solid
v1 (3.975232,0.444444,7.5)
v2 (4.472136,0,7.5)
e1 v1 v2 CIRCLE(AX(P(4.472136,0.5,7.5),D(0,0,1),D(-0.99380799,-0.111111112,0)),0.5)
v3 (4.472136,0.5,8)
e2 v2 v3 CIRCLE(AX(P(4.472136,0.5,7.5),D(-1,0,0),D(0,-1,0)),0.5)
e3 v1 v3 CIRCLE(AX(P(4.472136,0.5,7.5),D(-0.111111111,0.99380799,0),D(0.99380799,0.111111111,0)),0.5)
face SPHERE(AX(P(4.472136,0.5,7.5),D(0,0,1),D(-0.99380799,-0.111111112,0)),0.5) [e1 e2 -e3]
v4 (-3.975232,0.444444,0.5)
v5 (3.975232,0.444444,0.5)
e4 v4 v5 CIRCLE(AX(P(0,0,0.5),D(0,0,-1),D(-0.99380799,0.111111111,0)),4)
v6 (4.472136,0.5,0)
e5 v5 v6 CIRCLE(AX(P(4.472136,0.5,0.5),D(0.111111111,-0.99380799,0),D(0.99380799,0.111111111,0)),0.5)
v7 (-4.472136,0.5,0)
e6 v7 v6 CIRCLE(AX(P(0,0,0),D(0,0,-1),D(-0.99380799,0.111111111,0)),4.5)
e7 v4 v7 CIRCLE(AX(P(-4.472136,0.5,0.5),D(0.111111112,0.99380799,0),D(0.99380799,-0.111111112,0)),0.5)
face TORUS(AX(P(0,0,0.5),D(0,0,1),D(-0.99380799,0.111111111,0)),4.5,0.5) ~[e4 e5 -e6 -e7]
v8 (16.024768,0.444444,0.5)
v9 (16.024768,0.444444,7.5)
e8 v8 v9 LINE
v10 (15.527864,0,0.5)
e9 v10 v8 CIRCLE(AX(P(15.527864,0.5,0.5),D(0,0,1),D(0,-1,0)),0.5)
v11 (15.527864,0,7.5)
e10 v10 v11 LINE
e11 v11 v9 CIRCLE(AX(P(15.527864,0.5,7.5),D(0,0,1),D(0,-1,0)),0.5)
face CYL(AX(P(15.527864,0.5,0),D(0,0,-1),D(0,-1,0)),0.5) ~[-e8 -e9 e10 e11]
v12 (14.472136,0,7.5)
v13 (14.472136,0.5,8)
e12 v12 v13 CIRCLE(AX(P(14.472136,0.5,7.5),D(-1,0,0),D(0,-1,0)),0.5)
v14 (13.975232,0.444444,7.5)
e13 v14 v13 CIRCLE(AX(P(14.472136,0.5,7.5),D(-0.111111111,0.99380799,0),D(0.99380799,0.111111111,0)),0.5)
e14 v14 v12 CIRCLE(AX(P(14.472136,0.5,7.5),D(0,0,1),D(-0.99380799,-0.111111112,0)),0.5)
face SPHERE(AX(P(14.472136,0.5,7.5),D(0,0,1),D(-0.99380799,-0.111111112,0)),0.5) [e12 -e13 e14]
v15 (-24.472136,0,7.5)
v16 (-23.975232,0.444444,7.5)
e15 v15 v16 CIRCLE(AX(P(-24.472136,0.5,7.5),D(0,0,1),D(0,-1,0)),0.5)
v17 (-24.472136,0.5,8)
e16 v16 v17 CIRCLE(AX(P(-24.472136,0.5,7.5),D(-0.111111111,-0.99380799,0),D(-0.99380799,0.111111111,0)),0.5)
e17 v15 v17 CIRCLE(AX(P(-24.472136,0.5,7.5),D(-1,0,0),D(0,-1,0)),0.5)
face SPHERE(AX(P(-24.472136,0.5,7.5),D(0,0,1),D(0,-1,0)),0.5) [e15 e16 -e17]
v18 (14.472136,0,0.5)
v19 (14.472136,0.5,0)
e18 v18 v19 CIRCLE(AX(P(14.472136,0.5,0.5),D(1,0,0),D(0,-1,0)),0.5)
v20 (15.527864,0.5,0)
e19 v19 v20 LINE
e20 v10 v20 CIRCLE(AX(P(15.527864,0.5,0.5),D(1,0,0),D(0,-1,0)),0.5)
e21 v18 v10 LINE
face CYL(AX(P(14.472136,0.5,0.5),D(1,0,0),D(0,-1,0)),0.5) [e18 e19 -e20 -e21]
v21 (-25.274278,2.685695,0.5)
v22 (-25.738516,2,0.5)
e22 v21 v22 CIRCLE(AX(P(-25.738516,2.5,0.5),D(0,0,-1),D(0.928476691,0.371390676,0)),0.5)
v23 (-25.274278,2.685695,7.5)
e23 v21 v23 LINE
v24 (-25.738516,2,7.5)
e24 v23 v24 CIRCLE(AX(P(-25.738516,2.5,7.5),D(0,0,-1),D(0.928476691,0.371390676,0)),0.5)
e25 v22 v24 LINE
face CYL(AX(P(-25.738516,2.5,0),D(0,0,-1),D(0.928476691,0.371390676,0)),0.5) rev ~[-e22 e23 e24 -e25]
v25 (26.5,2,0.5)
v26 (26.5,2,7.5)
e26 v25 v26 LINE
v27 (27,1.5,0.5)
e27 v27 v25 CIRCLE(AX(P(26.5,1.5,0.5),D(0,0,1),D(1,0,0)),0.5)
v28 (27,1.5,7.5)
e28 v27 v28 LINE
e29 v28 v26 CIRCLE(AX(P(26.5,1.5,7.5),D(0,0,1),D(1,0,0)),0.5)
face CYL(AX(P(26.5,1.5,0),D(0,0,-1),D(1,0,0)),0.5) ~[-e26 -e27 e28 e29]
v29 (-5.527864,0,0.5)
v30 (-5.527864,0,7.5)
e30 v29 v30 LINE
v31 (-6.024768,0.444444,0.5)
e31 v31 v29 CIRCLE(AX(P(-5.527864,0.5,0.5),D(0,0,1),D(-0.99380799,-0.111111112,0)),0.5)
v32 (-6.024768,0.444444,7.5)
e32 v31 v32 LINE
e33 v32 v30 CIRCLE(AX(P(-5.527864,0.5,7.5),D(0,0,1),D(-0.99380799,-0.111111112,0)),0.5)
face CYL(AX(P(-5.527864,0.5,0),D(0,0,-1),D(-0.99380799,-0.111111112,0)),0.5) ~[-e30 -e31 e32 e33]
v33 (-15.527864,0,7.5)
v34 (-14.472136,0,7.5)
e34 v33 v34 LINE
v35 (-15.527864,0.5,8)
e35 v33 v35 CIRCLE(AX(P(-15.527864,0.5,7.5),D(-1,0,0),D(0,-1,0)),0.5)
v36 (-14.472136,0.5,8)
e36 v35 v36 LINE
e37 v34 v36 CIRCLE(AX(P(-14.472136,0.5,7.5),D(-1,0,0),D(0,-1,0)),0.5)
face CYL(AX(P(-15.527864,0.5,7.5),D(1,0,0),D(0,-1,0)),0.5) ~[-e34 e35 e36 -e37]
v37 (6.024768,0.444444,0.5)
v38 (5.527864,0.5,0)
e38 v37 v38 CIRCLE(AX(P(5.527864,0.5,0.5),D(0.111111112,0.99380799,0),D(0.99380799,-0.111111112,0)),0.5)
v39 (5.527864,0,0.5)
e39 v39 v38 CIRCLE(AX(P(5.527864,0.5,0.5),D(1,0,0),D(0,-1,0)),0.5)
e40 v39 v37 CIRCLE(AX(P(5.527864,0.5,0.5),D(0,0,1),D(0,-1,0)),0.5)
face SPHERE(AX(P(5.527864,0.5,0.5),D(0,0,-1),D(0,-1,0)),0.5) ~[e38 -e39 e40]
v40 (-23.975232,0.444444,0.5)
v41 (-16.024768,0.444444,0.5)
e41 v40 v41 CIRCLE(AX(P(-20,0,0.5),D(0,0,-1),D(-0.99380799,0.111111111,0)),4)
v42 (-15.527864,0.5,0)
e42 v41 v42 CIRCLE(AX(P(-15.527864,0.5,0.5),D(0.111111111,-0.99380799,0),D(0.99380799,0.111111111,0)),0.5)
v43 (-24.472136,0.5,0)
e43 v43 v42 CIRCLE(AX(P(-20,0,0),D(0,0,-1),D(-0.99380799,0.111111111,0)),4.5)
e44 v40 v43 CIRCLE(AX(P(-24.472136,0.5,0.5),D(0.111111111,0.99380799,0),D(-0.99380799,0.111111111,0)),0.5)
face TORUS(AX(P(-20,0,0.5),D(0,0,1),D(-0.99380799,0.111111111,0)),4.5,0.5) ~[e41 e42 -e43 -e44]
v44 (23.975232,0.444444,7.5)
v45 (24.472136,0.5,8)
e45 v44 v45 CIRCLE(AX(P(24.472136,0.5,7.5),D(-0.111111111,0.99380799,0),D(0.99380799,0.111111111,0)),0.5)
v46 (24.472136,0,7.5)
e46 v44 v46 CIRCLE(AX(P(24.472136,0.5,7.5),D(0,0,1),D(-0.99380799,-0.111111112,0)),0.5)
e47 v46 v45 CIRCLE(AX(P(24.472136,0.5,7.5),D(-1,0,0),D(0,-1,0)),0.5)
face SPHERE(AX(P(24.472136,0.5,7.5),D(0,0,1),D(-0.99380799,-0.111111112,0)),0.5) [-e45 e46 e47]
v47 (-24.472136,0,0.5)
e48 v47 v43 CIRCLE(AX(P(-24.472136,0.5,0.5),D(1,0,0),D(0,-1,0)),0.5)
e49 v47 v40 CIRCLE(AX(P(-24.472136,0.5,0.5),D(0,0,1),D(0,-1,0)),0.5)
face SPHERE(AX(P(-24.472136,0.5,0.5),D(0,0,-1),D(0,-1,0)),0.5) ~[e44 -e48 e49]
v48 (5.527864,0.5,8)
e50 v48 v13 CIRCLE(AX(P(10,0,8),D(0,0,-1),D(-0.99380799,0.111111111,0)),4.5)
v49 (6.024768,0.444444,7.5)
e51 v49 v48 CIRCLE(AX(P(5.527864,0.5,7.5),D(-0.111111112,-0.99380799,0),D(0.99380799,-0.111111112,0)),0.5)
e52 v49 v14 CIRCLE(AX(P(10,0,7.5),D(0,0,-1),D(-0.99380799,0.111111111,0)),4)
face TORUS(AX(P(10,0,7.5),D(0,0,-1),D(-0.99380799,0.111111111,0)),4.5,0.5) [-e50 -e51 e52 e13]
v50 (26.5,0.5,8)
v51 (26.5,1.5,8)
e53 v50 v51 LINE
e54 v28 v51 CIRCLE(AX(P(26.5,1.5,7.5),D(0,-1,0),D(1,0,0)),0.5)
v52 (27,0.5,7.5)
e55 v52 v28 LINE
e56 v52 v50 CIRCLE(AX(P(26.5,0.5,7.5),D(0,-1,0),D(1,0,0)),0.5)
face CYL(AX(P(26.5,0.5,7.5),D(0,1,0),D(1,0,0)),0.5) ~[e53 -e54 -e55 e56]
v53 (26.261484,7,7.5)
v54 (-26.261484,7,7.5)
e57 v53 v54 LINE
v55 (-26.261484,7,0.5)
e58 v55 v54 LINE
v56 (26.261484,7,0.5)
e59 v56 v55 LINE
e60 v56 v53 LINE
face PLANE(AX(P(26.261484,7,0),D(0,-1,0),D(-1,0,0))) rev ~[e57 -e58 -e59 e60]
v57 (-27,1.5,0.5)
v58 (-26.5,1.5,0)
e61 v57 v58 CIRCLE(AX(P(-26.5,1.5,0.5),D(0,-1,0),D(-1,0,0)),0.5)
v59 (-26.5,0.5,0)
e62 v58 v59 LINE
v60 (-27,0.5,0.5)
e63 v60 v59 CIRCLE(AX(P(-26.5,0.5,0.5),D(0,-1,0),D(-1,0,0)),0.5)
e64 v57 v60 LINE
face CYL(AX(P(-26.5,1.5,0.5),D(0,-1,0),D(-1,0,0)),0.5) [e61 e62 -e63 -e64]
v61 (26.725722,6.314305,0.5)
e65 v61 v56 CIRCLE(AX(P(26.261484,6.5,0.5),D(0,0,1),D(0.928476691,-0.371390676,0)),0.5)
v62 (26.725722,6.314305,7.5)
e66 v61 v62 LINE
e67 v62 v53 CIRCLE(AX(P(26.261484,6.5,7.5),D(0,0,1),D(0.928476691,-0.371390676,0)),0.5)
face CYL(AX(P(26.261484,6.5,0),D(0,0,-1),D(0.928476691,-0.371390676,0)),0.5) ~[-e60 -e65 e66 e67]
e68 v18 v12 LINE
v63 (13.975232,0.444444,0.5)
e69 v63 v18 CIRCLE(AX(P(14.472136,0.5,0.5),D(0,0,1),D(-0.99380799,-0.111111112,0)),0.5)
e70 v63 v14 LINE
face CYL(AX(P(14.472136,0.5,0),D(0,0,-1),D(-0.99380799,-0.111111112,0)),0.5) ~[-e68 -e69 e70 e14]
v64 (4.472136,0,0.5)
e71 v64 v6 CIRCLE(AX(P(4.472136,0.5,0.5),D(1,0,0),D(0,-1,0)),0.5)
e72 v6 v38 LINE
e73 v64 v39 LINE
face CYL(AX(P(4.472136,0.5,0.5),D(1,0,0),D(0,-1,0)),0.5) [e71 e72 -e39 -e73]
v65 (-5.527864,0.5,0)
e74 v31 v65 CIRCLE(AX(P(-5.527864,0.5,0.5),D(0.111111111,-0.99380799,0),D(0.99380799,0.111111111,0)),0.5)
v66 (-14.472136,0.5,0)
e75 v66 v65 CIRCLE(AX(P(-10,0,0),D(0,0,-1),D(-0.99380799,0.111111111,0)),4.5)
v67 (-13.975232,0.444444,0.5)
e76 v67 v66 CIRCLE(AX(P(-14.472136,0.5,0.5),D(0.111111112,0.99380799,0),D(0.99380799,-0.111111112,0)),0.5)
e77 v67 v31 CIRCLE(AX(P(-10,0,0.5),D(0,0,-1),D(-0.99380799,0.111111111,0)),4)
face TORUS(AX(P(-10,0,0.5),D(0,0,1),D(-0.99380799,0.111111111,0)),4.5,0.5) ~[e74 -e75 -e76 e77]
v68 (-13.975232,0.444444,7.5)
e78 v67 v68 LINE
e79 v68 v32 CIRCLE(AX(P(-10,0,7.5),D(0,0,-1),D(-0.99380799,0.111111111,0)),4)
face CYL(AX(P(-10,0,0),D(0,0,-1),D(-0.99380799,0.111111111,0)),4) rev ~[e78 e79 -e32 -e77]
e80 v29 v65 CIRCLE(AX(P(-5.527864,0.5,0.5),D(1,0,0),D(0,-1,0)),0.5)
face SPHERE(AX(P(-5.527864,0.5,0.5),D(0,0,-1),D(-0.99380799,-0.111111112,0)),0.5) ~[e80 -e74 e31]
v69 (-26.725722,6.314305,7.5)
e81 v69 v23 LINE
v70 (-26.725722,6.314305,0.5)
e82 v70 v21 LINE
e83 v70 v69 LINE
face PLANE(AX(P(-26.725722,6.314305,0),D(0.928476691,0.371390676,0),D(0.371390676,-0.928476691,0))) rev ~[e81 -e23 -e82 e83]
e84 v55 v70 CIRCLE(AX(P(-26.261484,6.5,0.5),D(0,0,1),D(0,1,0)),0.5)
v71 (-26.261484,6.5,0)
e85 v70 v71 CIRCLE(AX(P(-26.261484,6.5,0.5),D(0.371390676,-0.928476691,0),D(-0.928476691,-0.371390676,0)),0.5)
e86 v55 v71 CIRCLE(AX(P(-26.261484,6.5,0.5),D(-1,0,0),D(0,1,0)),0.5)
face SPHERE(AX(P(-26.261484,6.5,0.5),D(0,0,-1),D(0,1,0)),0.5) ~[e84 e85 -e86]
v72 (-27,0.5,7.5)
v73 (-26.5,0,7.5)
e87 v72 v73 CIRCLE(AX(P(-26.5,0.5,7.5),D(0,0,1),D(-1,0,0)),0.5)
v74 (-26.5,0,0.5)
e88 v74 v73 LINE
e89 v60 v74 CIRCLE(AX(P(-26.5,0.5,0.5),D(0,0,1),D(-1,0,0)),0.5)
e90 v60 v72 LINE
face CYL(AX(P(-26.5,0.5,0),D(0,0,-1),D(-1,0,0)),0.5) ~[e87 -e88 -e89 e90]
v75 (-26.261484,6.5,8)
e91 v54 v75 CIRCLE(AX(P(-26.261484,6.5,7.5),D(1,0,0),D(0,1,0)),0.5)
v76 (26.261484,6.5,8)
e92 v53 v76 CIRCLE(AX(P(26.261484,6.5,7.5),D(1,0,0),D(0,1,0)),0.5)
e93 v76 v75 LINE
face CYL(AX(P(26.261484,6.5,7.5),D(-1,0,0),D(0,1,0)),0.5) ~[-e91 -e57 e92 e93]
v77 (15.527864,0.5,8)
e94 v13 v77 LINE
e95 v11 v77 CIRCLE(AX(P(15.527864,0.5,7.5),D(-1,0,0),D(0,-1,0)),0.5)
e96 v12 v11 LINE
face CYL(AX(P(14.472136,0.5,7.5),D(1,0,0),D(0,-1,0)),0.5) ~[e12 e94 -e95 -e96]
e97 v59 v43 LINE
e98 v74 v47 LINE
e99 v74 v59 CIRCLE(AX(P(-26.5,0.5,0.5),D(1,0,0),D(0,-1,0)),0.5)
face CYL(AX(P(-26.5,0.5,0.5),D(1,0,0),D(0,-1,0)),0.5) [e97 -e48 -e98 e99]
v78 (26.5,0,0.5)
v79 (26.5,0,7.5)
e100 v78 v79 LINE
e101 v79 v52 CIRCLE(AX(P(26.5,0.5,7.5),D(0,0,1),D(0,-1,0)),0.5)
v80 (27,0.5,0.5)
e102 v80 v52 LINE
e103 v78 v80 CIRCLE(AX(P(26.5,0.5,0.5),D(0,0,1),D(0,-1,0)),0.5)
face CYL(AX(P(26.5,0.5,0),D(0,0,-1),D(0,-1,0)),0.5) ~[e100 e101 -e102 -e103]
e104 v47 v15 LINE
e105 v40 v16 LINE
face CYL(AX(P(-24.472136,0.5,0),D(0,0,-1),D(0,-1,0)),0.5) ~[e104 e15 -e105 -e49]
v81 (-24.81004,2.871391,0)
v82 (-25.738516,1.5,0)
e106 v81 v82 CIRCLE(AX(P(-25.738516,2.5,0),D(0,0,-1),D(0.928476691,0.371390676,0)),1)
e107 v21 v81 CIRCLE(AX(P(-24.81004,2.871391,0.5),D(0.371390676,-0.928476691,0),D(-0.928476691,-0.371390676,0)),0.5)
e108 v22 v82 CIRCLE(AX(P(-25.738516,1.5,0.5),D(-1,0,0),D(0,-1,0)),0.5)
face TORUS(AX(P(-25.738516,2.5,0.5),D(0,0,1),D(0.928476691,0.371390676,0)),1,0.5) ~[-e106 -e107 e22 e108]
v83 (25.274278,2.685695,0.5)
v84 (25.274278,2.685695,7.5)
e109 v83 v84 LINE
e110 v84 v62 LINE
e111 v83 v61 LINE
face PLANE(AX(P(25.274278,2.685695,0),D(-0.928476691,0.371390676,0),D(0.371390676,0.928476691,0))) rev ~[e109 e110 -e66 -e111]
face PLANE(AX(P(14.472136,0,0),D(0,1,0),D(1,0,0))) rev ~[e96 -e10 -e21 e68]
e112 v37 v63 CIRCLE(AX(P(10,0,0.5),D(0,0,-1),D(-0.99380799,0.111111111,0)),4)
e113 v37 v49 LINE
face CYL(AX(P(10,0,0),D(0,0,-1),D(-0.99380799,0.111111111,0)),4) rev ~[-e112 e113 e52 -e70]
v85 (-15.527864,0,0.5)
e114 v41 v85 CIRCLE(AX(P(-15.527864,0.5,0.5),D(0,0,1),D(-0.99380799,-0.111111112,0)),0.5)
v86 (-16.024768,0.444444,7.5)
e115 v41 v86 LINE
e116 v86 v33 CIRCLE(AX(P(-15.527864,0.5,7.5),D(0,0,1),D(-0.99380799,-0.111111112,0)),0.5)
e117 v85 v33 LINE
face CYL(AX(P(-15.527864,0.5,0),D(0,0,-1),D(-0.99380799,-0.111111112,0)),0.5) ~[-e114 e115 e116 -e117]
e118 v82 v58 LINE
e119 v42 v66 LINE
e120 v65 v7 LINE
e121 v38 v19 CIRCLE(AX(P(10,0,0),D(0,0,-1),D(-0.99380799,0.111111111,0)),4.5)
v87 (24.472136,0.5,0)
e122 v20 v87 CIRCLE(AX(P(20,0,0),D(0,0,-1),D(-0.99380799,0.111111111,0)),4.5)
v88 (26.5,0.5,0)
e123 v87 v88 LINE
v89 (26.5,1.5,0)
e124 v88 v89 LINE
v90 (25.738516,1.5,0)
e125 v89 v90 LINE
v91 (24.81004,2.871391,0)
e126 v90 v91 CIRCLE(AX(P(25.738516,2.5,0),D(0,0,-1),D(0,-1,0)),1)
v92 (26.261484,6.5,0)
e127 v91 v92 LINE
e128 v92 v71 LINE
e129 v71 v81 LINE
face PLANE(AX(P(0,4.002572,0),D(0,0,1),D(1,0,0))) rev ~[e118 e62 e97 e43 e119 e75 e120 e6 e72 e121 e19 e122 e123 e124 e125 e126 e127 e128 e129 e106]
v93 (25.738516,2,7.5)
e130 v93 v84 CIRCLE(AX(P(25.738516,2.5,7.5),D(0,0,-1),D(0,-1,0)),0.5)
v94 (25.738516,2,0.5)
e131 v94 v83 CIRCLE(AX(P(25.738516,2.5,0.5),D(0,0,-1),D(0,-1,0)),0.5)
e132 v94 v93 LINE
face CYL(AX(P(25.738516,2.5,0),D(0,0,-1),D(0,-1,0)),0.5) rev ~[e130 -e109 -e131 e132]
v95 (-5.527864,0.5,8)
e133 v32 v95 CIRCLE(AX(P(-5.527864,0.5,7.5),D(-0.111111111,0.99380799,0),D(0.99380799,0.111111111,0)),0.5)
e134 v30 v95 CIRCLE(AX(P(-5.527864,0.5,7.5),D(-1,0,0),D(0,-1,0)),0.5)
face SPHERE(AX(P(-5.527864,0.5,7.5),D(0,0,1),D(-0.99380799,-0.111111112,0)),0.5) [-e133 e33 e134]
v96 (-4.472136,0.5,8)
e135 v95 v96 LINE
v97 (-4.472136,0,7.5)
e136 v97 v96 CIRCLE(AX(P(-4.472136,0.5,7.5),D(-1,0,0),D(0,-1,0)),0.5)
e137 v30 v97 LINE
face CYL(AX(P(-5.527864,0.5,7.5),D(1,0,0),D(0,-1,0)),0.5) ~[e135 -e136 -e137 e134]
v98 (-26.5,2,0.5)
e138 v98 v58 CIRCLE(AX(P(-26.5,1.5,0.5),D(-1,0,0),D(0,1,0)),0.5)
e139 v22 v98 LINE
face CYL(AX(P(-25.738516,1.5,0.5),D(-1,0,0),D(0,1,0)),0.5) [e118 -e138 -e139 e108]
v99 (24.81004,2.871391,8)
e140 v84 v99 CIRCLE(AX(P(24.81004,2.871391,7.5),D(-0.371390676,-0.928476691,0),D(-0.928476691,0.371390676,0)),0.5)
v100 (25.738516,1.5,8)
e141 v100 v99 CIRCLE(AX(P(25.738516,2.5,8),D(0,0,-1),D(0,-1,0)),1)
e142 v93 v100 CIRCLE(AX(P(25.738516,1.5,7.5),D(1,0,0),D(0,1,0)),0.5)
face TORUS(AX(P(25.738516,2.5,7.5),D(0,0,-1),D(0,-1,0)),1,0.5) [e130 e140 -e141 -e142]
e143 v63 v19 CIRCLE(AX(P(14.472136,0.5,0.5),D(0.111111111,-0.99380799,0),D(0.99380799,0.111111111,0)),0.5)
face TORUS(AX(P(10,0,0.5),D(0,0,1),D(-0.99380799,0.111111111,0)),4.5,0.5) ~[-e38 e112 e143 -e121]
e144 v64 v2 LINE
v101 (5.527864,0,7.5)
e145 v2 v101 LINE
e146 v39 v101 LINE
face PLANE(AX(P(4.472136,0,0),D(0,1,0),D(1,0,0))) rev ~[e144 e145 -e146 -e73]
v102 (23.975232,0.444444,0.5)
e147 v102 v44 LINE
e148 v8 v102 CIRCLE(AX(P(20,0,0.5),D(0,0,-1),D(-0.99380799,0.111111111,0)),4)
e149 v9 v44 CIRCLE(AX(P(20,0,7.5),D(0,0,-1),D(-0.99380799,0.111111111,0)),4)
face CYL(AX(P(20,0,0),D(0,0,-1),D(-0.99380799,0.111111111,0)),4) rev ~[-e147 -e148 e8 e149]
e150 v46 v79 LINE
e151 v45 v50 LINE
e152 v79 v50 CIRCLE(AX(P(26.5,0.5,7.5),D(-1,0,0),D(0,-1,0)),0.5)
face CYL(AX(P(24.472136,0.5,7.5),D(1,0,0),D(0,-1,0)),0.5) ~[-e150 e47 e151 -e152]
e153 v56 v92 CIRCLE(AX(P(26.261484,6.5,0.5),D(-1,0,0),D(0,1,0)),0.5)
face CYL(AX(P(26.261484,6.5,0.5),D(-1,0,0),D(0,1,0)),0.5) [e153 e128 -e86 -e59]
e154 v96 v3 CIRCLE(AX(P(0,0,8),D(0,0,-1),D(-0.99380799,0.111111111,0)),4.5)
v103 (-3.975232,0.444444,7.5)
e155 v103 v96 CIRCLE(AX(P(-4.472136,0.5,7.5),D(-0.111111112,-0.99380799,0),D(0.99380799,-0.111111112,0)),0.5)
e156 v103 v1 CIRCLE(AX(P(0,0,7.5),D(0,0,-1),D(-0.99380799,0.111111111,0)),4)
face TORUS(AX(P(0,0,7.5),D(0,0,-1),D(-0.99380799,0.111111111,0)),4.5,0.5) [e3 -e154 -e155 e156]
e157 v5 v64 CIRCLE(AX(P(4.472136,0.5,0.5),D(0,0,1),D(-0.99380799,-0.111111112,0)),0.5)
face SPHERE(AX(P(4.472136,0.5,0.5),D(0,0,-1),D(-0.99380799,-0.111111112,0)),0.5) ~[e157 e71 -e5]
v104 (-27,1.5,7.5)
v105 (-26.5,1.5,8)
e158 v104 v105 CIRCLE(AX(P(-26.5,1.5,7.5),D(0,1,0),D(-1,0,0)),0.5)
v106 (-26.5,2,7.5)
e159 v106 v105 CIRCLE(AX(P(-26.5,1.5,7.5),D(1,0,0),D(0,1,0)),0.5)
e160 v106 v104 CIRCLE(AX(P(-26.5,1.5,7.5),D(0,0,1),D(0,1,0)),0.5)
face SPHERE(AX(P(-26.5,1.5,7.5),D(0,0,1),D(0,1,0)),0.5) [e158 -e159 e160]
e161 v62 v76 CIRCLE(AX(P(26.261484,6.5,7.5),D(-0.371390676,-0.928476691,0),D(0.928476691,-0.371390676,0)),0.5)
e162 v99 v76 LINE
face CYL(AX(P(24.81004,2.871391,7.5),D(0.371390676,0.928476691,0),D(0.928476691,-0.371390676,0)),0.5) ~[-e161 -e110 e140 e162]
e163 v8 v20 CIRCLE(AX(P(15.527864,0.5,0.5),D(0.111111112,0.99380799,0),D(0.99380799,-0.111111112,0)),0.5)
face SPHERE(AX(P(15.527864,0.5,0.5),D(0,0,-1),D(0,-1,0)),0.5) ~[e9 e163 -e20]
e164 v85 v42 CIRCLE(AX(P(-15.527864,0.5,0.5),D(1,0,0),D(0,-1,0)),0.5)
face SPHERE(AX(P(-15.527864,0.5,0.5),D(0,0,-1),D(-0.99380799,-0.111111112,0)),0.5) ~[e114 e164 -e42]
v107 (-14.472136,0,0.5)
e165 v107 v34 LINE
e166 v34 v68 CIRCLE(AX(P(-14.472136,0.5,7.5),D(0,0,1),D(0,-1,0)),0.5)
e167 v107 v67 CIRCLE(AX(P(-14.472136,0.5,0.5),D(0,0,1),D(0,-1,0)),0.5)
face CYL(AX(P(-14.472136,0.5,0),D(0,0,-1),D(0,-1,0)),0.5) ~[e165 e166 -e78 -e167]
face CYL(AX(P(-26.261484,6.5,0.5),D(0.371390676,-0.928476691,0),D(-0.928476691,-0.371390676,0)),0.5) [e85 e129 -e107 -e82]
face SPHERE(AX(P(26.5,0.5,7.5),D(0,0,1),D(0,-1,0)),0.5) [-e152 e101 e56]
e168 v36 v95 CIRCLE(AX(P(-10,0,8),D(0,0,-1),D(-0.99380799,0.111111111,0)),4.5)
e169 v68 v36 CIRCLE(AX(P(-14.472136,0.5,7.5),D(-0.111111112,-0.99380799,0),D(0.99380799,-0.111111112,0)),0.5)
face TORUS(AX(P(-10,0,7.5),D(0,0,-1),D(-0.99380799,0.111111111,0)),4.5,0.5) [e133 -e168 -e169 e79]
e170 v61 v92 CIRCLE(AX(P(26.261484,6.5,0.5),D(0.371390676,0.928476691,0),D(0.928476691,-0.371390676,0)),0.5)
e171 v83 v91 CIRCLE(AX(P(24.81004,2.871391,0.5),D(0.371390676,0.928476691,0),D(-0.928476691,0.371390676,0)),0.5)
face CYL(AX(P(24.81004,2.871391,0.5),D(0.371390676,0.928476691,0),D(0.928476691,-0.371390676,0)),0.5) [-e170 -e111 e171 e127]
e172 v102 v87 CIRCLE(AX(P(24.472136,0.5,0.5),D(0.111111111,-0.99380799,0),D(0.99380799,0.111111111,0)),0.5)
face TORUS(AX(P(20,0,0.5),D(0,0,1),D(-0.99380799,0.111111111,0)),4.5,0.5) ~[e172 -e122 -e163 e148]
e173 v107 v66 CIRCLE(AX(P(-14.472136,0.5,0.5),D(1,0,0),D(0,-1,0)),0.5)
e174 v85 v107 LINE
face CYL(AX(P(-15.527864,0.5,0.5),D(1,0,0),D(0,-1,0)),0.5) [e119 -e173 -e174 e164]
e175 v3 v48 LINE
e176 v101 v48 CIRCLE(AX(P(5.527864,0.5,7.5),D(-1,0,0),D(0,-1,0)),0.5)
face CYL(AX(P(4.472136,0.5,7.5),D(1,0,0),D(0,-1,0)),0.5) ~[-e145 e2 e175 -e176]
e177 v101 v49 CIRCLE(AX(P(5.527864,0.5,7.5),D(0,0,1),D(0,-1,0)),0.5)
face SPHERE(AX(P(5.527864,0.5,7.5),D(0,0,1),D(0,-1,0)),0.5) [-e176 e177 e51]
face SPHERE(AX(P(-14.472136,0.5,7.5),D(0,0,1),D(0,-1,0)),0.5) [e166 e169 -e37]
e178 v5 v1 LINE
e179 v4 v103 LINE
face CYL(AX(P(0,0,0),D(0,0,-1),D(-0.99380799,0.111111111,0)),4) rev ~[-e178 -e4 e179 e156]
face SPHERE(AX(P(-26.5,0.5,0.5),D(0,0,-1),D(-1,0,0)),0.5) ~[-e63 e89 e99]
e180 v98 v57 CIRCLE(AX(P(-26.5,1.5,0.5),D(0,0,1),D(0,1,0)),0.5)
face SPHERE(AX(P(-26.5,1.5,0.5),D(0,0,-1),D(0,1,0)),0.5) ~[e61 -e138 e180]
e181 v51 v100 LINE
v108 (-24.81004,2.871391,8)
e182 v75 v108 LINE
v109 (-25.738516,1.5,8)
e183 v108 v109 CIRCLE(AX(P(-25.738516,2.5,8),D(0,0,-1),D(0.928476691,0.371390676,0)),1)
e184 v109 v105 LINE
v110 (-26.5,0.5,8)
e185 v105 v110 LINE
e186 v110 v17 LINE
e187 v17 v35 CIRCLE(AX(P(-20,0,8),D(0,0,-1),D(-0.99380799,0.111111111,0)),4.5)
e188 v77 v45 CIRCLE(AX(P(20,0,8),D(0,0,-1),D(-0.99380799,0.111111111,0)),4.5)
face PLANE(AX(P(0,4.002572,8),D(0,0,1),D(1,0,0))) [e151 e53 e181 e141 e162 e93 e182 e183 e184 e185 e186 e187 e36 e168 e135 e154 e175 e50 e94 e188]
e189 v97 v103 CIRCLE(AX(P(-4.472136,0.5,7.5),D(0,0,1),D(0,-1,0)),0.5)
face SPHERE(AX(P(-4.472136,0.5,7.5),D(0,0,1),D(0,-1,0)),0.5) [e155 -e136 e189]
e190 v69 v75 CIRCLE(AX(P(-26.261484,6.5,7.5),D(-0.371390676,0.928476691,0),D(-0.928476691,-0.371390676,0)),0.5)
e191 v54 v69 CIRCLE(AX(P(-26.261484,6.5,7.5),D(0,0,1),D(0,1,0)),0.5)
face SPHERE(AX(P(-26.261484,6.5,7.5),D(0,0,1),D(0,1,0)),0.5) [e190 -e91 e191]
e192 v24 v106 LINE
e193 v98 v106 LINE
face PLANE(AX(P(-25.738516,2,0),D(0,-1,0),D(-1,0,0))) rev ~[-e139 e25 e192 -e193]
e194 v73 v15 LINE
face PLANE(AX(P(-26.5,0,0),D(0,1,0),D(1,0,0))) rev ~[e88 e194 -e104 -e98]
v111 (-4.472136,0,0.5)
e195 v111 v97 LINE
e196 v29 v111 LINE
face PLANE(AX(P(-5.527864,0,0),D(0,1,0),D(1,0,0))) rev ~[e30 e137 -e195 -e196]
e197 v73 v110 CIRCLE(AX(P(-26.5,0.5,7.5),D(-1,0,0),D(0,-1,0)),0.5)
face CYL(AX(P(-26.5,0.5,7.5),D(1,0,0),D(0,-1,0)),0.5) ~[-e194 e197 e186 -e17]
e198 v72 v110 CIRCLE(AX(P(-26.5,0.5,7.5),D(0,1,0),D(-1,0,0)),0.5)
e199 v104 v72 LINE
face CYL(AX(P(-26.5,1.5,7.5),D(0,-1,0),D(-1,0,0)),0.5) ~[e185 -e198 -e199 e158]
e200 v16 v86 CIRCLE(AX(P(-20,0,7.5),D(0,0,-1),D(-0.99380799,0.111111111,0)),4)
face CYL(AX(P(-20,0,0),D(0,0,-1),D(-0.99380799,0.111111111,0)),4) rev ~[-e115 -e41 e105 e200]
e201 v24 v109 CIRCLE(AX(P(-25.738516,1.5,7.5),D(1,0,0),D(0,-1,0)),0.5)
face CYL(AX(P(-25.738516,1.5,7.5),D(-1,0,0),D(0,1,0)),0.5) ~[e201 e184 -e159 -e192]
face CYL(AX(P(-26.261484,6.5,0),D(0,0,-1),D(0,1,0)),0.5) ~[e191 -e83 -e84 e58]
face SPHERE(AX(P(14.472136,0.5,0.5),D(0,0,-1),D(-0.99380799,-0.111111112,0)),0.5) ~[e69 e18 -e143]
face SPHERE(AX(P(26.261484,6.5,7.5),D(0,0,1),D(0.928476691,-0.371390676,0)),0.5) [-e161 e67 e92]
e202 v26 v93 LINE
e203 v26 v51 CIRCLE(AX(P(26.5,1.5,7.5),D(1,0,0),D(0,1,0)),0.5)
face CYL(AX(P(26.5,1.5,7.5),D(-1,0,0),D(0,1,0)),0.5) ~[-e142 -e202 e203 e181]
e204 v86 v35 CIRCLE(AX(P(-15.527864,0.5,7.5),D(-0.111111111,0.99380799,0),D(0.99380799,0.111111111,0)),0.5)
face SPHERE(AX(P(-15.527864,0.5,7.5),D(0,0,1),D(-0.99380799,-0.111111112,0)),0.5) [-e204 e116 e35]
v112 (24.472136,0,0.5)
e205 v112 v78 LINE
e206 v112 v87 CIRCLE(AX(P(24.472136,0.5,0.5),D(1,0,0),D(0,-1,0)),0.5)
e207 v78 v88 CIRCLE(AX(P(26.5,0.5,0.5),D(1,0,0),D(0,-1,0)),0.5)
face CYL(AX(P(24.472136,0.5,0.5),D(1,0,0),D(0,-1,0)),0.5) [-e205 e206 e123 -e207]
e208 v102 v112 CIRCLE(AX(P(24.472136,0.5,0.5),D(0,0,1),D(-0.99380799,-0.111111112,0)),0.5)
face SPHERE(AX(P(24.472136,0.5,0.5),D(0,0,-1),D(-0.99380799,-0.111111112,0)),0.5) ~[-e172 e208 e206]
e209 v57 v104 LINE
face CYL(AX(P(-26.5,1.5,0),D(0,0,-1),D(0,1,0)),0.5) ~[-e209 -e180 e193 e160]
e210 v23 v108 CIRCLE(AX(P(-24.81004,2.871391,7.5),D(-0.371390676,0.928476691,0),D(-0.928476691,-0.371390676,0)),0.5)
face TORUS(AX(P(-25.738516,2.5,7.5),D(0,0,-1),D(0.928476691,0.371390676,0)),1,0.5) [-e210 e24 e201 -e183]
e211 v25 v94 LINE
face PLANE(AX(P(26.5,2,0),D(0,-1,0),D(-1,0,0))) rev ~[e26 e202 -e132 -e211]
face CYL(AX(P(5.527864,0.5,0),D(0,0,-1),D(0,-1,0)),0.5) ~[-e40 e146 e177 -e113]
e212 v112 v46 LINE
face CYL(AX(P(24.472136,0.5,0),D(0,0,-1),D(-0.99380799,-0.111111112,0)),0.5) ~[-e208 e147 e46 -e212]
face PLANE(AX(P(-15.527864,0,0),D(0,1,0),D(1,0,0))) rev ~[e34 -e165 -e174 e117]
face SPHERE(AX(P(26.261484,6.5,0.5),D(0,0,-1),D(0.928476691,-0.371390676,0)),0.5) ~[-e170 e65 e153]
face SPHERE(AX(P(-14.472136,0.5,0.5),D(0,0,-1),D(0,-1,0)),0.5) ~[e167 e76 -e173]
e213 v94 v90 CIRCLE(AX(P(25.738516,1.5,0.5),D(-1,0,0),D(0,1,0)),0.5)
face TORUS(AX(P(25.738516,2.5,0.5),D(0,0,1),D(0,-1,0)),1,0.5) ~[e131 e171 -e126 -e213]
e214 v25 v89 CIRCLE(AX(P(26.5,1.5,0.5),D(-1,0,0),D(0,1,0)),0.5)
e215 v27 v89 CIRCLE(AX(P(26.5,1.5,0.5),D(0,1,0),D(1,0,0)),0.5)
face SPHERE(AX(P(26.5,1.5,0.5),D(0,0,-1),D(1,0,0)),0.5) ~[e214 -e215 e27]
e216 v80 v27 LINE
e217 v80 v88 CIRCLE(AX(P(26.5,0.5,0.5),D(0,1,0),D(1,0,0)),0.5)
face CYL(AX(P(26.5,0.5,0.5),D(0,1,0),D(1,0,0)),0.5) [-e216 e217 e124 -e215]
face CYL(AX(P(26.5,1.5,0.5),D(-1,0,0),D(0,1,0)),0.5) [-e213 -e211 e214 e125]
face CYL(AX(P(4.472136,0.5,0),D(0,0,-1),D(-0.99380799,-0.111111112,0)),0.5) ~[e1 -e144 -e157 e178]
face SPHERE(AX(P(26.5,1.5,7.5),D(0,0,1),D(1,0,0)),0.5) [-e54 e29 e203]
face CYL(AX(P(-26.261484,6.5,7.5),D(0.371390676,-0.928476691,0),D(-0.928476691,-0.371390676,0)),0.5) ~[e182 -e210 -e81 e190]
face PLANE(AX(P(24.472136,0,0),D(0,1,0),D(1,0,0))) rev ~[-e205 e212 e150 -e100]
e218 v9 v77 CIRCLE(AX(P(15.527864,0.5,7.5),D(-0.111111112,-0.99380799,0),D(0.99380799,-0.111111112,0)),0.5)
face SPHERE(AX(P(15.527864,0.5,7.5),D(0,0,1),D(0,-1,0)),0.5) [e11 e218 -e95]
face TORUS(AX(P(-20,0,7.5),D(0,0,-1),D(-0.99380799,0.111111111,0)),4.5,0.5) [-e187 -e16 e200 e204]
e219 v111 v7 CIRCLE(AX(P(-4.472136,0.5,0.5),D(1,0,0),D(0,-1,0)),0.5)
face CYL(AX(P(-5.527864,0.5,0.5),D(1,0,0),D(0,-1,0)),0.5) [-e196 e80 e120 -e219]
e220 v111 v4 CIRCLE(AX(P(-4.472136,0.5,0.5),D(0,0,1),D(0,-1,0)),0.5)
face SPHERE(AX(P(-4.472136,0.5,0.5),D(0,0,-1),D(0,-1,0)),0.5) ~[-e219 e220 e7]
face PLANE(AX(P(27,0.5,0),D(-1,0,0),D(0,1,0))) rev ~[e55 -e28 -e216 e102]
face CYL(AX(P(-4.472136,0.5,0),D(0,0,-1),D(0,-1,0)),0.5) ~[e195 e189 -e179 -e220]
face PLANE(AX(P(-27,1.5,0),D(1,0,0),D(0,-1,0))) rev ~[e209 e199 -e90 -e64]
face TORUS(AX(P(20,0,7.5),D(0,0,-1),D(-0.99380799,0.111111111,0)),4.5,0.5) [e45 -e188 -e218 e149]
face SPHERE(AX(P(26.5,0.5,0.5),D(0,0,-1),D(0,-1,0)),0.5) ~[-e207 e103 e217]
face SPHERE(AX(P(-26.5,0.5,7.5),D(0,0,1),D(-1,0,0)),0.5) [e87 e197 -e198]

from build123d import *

# Parameters (mm, degrees)
F1_DEPTH = 8
F2_R     = 0.5


with BuildPart() as f1:
    # F0 (on Top) → F1 (new body)
    with BuildSketch(Plane.XY):
        with BuildLine():
            ThreePointArc((-3.97523196, 0.4444444444), (0, 4), (3.97523196, 0.4444444444))
            ThreePointArc((3.97523196, 0.4444444444), (4.1388026217, 0.1273220038), (4.472135955, 0))
            Line((4.472135955, 0), (5.527864045, 0))
            ThreePointArc((5.527864045, 0), (5.8611973783, 0.1273220038), (6.02476804, 0.4444444444))
            ThreePointArc((6.02476804, 0.4444444444), (10, 4), (13.97523196, 0.4444444444))
            ThreePointArc((13.97523196, 0.4444444444), (14.1388026217, 0.1273220038), (14.472135955, 0))
            Line((14.472135955, 0), (15.527864045, 0))
            ThreePointArc((15.527864045, 0), (15.8611973783, 0.1273220038), (16.02476804, 0.4444444444))
            ThreePointArc((16.02476804, 0.4444444444), (20, 4), (23.97523196, 0.4444444444))
            ThreePointArc((23.97523196, 0.4444444444), (24.1388026217, 0.1273220038), (24.472135955, 0))
            Line((24.472135955, 0), (26.5, 0))
            ThreePointArc((26.5, 0), (26.8535533906, 0.1464466094), (27, 0.5))
            Line((27, 0.5), (27, 1.5))
            ThreePointArc((27, 1.5), (26.8535533906, 1.8535533906), (26.5, 2))
            Line((26.5, 2), (25.7385164807, 2))
            ThreePointArc((25.7385164807, 2), (25.3244828655, 2.2196855953), (25.2742781353, 2.6856953382))
            Line((25.2742781353, 2.6856953382), (26.7257218647, 6.3143046618))
            ThreePointArc((26.7257218647, 6.3143046618), (26.6755171345, 6.7803144047), (26.2614835193, 7))
            Line((26.2614835193, 7), (-26.2614835193, 7))
            ThreePointArc((-26.2614835193, 7), (-26.6755171345, 6.7803144047), (-26.7257218647, 6.3143046618))
            Line((-26.7257218647, 6.3143046618), (-25.2742781353, 2.6856953382))
            ThreePointArc((-25.2742781353, 2.6856953382), (-25.3244828655, 2.2196855953), (-25.7385164807, 2))
            Line((-25.7385164807, 2), (-26.5, 2))
            ThreePointArc((-26.5, 2), (-26.8535533906, 1.8535533906), (-27, 1.5))
            Line((-27, 1.5), (-27, 0.5))
            ThreePointArc((-27, 0.5), (-26.8535533906, 0.1464466094), (-26.5, 0))
            Line((-26.5, 0), (-24.472135955, 0))
            ThreePointArc((-24.472135955, 0), (-24.1388026217, 0.1273220038), (-23.97523196, 0.4444444444))
            ThreePointArc((-23.97523196, 0.4444444444), (-20, 4), (-16.02476804, 0.4444444444))
            ThreePointArc((-16.02476804, 0.4444444444), (-15.8611973783, 0.1273220038), (-15.527864045, 0))
            Line((-15.527864045, 0), (-14.472135955, 0))
            ThreePointArc((-14.472135955, 0), (-14.1388026217, 0.1273220038), (-13.97523196, 0.4444444444))
            ThreePointArc((-13.97523196, 0.4444444444), (-10, 4), (-6.02476804, 0.4444444444))
            ThreePointArc((-6.02476804, 0.4444444444), (-5.8611973783, 0.1273220038), (-5.527864045, 0))
            Line((-5.527864045, 0), (-4.472135955, 0))
            ThreePointArc((-4.472135955, 0), (-4.1388026217, 0.1273220038), (-3.97523196, 0.4444444444))
        make_face()
    extrude(amount=F1_DEPTH)

    # F2
    f2_edges = [f1.edges().sort_by_distance(p)[0] for p in [
        (-20, 4, 8),
        (-15.861197, 0.127322, 8),
        (-15, 0, 8),
        (-14.138803, 0.127322, 8),
        (-10, 4, 8),
        (-5.861197, 0.127322, 8),
        (-5, 0, 8),
        (-4.138803, 0.127322, 8),
        (0, 4, 8),
        (4.138803, 0.127322, 8),
        (5, 0, 8),
        (5.861197, 0.127322, 8),
        (10, 4, 8),
        (14.138803, 0.127322, 8),
        (15, 0, 8),
        (15.861197, 0.127322, 8),
        (20, 4, 8),
        (24.138803, 0.127322, 8),
        (25.486068, 0, 8),
        (26.853553, 0.146447, 8),
        (27, 1, 8),
        (26.853553, 1.853553, 8),
        (26.119258, 2, 8),
        (25.324483, 2.219686, 8),
        (26, 4.5, 8),
        (26.675517, 6.780314, 8),
        (0, 7, 8),
        (-26.675517, 6.780314, 8),
        (-26, 4.5, 8),
        (-25.324483, 2.219686, 8),
        (-26.119258, 2, 8),
        (-26.853553, 1.853553, 8),
        (-27, 1, 8),
        (-26.853553, 0.146447, 8),
        (-25.486068, 0, 8),
        (-24.138803, 0.127322, 8),
        (-20, 4, 0),
        (-15.861197, 0.127322, 0),
        (-15, 0, 0),
        (-14.138803, 0.127322, 0),
        (-10, 4, 0),
        (-5.861197, 0.127322, 0),
        (-5, 0, 0),
        (-4.138803, 0.127322, 0),
        (0, 4, 0),
        (4.138803, 0.127322, 0),
        (5, 0, 0),
        (5.861197, 0.127322, 0),
        (10, 4, 0),
        (14.138803, 0.127322, 0),
        (15, 0, 0),
        (15.861197, 0.127322, 0),
        (20, 4, 0),
        (24.138803, 0.127322, 0),
        (25.486068, 0, 0),
        (26.853553, 0.146447, 0),
        (27, 1, 0),
        (26.853553, 1.853553, 0),
        (26.119258, 2, 0),
        (25.324483, 2.219686, 0),
        (26, 4.5, 0),
        (26.675517, 6.780314, 0),
        (0, 7, 0),
        (-26.675517, 6.780314, 0),
        (-26, 4.5, 0),
        (-25.324483, 2.219686, 0),
        (-26.119258, 2, 0),
        (-26.853553, 1.853553, 0),
        (-27, 1, 0),
        (-26.853553, 0.146447, 0),
        (-25.486068, 0, 0),
        (-24.138803, 0.127322, 0),
    ]]
    fillet(f2_edges, radius=F2_R)


solid = f1.part
